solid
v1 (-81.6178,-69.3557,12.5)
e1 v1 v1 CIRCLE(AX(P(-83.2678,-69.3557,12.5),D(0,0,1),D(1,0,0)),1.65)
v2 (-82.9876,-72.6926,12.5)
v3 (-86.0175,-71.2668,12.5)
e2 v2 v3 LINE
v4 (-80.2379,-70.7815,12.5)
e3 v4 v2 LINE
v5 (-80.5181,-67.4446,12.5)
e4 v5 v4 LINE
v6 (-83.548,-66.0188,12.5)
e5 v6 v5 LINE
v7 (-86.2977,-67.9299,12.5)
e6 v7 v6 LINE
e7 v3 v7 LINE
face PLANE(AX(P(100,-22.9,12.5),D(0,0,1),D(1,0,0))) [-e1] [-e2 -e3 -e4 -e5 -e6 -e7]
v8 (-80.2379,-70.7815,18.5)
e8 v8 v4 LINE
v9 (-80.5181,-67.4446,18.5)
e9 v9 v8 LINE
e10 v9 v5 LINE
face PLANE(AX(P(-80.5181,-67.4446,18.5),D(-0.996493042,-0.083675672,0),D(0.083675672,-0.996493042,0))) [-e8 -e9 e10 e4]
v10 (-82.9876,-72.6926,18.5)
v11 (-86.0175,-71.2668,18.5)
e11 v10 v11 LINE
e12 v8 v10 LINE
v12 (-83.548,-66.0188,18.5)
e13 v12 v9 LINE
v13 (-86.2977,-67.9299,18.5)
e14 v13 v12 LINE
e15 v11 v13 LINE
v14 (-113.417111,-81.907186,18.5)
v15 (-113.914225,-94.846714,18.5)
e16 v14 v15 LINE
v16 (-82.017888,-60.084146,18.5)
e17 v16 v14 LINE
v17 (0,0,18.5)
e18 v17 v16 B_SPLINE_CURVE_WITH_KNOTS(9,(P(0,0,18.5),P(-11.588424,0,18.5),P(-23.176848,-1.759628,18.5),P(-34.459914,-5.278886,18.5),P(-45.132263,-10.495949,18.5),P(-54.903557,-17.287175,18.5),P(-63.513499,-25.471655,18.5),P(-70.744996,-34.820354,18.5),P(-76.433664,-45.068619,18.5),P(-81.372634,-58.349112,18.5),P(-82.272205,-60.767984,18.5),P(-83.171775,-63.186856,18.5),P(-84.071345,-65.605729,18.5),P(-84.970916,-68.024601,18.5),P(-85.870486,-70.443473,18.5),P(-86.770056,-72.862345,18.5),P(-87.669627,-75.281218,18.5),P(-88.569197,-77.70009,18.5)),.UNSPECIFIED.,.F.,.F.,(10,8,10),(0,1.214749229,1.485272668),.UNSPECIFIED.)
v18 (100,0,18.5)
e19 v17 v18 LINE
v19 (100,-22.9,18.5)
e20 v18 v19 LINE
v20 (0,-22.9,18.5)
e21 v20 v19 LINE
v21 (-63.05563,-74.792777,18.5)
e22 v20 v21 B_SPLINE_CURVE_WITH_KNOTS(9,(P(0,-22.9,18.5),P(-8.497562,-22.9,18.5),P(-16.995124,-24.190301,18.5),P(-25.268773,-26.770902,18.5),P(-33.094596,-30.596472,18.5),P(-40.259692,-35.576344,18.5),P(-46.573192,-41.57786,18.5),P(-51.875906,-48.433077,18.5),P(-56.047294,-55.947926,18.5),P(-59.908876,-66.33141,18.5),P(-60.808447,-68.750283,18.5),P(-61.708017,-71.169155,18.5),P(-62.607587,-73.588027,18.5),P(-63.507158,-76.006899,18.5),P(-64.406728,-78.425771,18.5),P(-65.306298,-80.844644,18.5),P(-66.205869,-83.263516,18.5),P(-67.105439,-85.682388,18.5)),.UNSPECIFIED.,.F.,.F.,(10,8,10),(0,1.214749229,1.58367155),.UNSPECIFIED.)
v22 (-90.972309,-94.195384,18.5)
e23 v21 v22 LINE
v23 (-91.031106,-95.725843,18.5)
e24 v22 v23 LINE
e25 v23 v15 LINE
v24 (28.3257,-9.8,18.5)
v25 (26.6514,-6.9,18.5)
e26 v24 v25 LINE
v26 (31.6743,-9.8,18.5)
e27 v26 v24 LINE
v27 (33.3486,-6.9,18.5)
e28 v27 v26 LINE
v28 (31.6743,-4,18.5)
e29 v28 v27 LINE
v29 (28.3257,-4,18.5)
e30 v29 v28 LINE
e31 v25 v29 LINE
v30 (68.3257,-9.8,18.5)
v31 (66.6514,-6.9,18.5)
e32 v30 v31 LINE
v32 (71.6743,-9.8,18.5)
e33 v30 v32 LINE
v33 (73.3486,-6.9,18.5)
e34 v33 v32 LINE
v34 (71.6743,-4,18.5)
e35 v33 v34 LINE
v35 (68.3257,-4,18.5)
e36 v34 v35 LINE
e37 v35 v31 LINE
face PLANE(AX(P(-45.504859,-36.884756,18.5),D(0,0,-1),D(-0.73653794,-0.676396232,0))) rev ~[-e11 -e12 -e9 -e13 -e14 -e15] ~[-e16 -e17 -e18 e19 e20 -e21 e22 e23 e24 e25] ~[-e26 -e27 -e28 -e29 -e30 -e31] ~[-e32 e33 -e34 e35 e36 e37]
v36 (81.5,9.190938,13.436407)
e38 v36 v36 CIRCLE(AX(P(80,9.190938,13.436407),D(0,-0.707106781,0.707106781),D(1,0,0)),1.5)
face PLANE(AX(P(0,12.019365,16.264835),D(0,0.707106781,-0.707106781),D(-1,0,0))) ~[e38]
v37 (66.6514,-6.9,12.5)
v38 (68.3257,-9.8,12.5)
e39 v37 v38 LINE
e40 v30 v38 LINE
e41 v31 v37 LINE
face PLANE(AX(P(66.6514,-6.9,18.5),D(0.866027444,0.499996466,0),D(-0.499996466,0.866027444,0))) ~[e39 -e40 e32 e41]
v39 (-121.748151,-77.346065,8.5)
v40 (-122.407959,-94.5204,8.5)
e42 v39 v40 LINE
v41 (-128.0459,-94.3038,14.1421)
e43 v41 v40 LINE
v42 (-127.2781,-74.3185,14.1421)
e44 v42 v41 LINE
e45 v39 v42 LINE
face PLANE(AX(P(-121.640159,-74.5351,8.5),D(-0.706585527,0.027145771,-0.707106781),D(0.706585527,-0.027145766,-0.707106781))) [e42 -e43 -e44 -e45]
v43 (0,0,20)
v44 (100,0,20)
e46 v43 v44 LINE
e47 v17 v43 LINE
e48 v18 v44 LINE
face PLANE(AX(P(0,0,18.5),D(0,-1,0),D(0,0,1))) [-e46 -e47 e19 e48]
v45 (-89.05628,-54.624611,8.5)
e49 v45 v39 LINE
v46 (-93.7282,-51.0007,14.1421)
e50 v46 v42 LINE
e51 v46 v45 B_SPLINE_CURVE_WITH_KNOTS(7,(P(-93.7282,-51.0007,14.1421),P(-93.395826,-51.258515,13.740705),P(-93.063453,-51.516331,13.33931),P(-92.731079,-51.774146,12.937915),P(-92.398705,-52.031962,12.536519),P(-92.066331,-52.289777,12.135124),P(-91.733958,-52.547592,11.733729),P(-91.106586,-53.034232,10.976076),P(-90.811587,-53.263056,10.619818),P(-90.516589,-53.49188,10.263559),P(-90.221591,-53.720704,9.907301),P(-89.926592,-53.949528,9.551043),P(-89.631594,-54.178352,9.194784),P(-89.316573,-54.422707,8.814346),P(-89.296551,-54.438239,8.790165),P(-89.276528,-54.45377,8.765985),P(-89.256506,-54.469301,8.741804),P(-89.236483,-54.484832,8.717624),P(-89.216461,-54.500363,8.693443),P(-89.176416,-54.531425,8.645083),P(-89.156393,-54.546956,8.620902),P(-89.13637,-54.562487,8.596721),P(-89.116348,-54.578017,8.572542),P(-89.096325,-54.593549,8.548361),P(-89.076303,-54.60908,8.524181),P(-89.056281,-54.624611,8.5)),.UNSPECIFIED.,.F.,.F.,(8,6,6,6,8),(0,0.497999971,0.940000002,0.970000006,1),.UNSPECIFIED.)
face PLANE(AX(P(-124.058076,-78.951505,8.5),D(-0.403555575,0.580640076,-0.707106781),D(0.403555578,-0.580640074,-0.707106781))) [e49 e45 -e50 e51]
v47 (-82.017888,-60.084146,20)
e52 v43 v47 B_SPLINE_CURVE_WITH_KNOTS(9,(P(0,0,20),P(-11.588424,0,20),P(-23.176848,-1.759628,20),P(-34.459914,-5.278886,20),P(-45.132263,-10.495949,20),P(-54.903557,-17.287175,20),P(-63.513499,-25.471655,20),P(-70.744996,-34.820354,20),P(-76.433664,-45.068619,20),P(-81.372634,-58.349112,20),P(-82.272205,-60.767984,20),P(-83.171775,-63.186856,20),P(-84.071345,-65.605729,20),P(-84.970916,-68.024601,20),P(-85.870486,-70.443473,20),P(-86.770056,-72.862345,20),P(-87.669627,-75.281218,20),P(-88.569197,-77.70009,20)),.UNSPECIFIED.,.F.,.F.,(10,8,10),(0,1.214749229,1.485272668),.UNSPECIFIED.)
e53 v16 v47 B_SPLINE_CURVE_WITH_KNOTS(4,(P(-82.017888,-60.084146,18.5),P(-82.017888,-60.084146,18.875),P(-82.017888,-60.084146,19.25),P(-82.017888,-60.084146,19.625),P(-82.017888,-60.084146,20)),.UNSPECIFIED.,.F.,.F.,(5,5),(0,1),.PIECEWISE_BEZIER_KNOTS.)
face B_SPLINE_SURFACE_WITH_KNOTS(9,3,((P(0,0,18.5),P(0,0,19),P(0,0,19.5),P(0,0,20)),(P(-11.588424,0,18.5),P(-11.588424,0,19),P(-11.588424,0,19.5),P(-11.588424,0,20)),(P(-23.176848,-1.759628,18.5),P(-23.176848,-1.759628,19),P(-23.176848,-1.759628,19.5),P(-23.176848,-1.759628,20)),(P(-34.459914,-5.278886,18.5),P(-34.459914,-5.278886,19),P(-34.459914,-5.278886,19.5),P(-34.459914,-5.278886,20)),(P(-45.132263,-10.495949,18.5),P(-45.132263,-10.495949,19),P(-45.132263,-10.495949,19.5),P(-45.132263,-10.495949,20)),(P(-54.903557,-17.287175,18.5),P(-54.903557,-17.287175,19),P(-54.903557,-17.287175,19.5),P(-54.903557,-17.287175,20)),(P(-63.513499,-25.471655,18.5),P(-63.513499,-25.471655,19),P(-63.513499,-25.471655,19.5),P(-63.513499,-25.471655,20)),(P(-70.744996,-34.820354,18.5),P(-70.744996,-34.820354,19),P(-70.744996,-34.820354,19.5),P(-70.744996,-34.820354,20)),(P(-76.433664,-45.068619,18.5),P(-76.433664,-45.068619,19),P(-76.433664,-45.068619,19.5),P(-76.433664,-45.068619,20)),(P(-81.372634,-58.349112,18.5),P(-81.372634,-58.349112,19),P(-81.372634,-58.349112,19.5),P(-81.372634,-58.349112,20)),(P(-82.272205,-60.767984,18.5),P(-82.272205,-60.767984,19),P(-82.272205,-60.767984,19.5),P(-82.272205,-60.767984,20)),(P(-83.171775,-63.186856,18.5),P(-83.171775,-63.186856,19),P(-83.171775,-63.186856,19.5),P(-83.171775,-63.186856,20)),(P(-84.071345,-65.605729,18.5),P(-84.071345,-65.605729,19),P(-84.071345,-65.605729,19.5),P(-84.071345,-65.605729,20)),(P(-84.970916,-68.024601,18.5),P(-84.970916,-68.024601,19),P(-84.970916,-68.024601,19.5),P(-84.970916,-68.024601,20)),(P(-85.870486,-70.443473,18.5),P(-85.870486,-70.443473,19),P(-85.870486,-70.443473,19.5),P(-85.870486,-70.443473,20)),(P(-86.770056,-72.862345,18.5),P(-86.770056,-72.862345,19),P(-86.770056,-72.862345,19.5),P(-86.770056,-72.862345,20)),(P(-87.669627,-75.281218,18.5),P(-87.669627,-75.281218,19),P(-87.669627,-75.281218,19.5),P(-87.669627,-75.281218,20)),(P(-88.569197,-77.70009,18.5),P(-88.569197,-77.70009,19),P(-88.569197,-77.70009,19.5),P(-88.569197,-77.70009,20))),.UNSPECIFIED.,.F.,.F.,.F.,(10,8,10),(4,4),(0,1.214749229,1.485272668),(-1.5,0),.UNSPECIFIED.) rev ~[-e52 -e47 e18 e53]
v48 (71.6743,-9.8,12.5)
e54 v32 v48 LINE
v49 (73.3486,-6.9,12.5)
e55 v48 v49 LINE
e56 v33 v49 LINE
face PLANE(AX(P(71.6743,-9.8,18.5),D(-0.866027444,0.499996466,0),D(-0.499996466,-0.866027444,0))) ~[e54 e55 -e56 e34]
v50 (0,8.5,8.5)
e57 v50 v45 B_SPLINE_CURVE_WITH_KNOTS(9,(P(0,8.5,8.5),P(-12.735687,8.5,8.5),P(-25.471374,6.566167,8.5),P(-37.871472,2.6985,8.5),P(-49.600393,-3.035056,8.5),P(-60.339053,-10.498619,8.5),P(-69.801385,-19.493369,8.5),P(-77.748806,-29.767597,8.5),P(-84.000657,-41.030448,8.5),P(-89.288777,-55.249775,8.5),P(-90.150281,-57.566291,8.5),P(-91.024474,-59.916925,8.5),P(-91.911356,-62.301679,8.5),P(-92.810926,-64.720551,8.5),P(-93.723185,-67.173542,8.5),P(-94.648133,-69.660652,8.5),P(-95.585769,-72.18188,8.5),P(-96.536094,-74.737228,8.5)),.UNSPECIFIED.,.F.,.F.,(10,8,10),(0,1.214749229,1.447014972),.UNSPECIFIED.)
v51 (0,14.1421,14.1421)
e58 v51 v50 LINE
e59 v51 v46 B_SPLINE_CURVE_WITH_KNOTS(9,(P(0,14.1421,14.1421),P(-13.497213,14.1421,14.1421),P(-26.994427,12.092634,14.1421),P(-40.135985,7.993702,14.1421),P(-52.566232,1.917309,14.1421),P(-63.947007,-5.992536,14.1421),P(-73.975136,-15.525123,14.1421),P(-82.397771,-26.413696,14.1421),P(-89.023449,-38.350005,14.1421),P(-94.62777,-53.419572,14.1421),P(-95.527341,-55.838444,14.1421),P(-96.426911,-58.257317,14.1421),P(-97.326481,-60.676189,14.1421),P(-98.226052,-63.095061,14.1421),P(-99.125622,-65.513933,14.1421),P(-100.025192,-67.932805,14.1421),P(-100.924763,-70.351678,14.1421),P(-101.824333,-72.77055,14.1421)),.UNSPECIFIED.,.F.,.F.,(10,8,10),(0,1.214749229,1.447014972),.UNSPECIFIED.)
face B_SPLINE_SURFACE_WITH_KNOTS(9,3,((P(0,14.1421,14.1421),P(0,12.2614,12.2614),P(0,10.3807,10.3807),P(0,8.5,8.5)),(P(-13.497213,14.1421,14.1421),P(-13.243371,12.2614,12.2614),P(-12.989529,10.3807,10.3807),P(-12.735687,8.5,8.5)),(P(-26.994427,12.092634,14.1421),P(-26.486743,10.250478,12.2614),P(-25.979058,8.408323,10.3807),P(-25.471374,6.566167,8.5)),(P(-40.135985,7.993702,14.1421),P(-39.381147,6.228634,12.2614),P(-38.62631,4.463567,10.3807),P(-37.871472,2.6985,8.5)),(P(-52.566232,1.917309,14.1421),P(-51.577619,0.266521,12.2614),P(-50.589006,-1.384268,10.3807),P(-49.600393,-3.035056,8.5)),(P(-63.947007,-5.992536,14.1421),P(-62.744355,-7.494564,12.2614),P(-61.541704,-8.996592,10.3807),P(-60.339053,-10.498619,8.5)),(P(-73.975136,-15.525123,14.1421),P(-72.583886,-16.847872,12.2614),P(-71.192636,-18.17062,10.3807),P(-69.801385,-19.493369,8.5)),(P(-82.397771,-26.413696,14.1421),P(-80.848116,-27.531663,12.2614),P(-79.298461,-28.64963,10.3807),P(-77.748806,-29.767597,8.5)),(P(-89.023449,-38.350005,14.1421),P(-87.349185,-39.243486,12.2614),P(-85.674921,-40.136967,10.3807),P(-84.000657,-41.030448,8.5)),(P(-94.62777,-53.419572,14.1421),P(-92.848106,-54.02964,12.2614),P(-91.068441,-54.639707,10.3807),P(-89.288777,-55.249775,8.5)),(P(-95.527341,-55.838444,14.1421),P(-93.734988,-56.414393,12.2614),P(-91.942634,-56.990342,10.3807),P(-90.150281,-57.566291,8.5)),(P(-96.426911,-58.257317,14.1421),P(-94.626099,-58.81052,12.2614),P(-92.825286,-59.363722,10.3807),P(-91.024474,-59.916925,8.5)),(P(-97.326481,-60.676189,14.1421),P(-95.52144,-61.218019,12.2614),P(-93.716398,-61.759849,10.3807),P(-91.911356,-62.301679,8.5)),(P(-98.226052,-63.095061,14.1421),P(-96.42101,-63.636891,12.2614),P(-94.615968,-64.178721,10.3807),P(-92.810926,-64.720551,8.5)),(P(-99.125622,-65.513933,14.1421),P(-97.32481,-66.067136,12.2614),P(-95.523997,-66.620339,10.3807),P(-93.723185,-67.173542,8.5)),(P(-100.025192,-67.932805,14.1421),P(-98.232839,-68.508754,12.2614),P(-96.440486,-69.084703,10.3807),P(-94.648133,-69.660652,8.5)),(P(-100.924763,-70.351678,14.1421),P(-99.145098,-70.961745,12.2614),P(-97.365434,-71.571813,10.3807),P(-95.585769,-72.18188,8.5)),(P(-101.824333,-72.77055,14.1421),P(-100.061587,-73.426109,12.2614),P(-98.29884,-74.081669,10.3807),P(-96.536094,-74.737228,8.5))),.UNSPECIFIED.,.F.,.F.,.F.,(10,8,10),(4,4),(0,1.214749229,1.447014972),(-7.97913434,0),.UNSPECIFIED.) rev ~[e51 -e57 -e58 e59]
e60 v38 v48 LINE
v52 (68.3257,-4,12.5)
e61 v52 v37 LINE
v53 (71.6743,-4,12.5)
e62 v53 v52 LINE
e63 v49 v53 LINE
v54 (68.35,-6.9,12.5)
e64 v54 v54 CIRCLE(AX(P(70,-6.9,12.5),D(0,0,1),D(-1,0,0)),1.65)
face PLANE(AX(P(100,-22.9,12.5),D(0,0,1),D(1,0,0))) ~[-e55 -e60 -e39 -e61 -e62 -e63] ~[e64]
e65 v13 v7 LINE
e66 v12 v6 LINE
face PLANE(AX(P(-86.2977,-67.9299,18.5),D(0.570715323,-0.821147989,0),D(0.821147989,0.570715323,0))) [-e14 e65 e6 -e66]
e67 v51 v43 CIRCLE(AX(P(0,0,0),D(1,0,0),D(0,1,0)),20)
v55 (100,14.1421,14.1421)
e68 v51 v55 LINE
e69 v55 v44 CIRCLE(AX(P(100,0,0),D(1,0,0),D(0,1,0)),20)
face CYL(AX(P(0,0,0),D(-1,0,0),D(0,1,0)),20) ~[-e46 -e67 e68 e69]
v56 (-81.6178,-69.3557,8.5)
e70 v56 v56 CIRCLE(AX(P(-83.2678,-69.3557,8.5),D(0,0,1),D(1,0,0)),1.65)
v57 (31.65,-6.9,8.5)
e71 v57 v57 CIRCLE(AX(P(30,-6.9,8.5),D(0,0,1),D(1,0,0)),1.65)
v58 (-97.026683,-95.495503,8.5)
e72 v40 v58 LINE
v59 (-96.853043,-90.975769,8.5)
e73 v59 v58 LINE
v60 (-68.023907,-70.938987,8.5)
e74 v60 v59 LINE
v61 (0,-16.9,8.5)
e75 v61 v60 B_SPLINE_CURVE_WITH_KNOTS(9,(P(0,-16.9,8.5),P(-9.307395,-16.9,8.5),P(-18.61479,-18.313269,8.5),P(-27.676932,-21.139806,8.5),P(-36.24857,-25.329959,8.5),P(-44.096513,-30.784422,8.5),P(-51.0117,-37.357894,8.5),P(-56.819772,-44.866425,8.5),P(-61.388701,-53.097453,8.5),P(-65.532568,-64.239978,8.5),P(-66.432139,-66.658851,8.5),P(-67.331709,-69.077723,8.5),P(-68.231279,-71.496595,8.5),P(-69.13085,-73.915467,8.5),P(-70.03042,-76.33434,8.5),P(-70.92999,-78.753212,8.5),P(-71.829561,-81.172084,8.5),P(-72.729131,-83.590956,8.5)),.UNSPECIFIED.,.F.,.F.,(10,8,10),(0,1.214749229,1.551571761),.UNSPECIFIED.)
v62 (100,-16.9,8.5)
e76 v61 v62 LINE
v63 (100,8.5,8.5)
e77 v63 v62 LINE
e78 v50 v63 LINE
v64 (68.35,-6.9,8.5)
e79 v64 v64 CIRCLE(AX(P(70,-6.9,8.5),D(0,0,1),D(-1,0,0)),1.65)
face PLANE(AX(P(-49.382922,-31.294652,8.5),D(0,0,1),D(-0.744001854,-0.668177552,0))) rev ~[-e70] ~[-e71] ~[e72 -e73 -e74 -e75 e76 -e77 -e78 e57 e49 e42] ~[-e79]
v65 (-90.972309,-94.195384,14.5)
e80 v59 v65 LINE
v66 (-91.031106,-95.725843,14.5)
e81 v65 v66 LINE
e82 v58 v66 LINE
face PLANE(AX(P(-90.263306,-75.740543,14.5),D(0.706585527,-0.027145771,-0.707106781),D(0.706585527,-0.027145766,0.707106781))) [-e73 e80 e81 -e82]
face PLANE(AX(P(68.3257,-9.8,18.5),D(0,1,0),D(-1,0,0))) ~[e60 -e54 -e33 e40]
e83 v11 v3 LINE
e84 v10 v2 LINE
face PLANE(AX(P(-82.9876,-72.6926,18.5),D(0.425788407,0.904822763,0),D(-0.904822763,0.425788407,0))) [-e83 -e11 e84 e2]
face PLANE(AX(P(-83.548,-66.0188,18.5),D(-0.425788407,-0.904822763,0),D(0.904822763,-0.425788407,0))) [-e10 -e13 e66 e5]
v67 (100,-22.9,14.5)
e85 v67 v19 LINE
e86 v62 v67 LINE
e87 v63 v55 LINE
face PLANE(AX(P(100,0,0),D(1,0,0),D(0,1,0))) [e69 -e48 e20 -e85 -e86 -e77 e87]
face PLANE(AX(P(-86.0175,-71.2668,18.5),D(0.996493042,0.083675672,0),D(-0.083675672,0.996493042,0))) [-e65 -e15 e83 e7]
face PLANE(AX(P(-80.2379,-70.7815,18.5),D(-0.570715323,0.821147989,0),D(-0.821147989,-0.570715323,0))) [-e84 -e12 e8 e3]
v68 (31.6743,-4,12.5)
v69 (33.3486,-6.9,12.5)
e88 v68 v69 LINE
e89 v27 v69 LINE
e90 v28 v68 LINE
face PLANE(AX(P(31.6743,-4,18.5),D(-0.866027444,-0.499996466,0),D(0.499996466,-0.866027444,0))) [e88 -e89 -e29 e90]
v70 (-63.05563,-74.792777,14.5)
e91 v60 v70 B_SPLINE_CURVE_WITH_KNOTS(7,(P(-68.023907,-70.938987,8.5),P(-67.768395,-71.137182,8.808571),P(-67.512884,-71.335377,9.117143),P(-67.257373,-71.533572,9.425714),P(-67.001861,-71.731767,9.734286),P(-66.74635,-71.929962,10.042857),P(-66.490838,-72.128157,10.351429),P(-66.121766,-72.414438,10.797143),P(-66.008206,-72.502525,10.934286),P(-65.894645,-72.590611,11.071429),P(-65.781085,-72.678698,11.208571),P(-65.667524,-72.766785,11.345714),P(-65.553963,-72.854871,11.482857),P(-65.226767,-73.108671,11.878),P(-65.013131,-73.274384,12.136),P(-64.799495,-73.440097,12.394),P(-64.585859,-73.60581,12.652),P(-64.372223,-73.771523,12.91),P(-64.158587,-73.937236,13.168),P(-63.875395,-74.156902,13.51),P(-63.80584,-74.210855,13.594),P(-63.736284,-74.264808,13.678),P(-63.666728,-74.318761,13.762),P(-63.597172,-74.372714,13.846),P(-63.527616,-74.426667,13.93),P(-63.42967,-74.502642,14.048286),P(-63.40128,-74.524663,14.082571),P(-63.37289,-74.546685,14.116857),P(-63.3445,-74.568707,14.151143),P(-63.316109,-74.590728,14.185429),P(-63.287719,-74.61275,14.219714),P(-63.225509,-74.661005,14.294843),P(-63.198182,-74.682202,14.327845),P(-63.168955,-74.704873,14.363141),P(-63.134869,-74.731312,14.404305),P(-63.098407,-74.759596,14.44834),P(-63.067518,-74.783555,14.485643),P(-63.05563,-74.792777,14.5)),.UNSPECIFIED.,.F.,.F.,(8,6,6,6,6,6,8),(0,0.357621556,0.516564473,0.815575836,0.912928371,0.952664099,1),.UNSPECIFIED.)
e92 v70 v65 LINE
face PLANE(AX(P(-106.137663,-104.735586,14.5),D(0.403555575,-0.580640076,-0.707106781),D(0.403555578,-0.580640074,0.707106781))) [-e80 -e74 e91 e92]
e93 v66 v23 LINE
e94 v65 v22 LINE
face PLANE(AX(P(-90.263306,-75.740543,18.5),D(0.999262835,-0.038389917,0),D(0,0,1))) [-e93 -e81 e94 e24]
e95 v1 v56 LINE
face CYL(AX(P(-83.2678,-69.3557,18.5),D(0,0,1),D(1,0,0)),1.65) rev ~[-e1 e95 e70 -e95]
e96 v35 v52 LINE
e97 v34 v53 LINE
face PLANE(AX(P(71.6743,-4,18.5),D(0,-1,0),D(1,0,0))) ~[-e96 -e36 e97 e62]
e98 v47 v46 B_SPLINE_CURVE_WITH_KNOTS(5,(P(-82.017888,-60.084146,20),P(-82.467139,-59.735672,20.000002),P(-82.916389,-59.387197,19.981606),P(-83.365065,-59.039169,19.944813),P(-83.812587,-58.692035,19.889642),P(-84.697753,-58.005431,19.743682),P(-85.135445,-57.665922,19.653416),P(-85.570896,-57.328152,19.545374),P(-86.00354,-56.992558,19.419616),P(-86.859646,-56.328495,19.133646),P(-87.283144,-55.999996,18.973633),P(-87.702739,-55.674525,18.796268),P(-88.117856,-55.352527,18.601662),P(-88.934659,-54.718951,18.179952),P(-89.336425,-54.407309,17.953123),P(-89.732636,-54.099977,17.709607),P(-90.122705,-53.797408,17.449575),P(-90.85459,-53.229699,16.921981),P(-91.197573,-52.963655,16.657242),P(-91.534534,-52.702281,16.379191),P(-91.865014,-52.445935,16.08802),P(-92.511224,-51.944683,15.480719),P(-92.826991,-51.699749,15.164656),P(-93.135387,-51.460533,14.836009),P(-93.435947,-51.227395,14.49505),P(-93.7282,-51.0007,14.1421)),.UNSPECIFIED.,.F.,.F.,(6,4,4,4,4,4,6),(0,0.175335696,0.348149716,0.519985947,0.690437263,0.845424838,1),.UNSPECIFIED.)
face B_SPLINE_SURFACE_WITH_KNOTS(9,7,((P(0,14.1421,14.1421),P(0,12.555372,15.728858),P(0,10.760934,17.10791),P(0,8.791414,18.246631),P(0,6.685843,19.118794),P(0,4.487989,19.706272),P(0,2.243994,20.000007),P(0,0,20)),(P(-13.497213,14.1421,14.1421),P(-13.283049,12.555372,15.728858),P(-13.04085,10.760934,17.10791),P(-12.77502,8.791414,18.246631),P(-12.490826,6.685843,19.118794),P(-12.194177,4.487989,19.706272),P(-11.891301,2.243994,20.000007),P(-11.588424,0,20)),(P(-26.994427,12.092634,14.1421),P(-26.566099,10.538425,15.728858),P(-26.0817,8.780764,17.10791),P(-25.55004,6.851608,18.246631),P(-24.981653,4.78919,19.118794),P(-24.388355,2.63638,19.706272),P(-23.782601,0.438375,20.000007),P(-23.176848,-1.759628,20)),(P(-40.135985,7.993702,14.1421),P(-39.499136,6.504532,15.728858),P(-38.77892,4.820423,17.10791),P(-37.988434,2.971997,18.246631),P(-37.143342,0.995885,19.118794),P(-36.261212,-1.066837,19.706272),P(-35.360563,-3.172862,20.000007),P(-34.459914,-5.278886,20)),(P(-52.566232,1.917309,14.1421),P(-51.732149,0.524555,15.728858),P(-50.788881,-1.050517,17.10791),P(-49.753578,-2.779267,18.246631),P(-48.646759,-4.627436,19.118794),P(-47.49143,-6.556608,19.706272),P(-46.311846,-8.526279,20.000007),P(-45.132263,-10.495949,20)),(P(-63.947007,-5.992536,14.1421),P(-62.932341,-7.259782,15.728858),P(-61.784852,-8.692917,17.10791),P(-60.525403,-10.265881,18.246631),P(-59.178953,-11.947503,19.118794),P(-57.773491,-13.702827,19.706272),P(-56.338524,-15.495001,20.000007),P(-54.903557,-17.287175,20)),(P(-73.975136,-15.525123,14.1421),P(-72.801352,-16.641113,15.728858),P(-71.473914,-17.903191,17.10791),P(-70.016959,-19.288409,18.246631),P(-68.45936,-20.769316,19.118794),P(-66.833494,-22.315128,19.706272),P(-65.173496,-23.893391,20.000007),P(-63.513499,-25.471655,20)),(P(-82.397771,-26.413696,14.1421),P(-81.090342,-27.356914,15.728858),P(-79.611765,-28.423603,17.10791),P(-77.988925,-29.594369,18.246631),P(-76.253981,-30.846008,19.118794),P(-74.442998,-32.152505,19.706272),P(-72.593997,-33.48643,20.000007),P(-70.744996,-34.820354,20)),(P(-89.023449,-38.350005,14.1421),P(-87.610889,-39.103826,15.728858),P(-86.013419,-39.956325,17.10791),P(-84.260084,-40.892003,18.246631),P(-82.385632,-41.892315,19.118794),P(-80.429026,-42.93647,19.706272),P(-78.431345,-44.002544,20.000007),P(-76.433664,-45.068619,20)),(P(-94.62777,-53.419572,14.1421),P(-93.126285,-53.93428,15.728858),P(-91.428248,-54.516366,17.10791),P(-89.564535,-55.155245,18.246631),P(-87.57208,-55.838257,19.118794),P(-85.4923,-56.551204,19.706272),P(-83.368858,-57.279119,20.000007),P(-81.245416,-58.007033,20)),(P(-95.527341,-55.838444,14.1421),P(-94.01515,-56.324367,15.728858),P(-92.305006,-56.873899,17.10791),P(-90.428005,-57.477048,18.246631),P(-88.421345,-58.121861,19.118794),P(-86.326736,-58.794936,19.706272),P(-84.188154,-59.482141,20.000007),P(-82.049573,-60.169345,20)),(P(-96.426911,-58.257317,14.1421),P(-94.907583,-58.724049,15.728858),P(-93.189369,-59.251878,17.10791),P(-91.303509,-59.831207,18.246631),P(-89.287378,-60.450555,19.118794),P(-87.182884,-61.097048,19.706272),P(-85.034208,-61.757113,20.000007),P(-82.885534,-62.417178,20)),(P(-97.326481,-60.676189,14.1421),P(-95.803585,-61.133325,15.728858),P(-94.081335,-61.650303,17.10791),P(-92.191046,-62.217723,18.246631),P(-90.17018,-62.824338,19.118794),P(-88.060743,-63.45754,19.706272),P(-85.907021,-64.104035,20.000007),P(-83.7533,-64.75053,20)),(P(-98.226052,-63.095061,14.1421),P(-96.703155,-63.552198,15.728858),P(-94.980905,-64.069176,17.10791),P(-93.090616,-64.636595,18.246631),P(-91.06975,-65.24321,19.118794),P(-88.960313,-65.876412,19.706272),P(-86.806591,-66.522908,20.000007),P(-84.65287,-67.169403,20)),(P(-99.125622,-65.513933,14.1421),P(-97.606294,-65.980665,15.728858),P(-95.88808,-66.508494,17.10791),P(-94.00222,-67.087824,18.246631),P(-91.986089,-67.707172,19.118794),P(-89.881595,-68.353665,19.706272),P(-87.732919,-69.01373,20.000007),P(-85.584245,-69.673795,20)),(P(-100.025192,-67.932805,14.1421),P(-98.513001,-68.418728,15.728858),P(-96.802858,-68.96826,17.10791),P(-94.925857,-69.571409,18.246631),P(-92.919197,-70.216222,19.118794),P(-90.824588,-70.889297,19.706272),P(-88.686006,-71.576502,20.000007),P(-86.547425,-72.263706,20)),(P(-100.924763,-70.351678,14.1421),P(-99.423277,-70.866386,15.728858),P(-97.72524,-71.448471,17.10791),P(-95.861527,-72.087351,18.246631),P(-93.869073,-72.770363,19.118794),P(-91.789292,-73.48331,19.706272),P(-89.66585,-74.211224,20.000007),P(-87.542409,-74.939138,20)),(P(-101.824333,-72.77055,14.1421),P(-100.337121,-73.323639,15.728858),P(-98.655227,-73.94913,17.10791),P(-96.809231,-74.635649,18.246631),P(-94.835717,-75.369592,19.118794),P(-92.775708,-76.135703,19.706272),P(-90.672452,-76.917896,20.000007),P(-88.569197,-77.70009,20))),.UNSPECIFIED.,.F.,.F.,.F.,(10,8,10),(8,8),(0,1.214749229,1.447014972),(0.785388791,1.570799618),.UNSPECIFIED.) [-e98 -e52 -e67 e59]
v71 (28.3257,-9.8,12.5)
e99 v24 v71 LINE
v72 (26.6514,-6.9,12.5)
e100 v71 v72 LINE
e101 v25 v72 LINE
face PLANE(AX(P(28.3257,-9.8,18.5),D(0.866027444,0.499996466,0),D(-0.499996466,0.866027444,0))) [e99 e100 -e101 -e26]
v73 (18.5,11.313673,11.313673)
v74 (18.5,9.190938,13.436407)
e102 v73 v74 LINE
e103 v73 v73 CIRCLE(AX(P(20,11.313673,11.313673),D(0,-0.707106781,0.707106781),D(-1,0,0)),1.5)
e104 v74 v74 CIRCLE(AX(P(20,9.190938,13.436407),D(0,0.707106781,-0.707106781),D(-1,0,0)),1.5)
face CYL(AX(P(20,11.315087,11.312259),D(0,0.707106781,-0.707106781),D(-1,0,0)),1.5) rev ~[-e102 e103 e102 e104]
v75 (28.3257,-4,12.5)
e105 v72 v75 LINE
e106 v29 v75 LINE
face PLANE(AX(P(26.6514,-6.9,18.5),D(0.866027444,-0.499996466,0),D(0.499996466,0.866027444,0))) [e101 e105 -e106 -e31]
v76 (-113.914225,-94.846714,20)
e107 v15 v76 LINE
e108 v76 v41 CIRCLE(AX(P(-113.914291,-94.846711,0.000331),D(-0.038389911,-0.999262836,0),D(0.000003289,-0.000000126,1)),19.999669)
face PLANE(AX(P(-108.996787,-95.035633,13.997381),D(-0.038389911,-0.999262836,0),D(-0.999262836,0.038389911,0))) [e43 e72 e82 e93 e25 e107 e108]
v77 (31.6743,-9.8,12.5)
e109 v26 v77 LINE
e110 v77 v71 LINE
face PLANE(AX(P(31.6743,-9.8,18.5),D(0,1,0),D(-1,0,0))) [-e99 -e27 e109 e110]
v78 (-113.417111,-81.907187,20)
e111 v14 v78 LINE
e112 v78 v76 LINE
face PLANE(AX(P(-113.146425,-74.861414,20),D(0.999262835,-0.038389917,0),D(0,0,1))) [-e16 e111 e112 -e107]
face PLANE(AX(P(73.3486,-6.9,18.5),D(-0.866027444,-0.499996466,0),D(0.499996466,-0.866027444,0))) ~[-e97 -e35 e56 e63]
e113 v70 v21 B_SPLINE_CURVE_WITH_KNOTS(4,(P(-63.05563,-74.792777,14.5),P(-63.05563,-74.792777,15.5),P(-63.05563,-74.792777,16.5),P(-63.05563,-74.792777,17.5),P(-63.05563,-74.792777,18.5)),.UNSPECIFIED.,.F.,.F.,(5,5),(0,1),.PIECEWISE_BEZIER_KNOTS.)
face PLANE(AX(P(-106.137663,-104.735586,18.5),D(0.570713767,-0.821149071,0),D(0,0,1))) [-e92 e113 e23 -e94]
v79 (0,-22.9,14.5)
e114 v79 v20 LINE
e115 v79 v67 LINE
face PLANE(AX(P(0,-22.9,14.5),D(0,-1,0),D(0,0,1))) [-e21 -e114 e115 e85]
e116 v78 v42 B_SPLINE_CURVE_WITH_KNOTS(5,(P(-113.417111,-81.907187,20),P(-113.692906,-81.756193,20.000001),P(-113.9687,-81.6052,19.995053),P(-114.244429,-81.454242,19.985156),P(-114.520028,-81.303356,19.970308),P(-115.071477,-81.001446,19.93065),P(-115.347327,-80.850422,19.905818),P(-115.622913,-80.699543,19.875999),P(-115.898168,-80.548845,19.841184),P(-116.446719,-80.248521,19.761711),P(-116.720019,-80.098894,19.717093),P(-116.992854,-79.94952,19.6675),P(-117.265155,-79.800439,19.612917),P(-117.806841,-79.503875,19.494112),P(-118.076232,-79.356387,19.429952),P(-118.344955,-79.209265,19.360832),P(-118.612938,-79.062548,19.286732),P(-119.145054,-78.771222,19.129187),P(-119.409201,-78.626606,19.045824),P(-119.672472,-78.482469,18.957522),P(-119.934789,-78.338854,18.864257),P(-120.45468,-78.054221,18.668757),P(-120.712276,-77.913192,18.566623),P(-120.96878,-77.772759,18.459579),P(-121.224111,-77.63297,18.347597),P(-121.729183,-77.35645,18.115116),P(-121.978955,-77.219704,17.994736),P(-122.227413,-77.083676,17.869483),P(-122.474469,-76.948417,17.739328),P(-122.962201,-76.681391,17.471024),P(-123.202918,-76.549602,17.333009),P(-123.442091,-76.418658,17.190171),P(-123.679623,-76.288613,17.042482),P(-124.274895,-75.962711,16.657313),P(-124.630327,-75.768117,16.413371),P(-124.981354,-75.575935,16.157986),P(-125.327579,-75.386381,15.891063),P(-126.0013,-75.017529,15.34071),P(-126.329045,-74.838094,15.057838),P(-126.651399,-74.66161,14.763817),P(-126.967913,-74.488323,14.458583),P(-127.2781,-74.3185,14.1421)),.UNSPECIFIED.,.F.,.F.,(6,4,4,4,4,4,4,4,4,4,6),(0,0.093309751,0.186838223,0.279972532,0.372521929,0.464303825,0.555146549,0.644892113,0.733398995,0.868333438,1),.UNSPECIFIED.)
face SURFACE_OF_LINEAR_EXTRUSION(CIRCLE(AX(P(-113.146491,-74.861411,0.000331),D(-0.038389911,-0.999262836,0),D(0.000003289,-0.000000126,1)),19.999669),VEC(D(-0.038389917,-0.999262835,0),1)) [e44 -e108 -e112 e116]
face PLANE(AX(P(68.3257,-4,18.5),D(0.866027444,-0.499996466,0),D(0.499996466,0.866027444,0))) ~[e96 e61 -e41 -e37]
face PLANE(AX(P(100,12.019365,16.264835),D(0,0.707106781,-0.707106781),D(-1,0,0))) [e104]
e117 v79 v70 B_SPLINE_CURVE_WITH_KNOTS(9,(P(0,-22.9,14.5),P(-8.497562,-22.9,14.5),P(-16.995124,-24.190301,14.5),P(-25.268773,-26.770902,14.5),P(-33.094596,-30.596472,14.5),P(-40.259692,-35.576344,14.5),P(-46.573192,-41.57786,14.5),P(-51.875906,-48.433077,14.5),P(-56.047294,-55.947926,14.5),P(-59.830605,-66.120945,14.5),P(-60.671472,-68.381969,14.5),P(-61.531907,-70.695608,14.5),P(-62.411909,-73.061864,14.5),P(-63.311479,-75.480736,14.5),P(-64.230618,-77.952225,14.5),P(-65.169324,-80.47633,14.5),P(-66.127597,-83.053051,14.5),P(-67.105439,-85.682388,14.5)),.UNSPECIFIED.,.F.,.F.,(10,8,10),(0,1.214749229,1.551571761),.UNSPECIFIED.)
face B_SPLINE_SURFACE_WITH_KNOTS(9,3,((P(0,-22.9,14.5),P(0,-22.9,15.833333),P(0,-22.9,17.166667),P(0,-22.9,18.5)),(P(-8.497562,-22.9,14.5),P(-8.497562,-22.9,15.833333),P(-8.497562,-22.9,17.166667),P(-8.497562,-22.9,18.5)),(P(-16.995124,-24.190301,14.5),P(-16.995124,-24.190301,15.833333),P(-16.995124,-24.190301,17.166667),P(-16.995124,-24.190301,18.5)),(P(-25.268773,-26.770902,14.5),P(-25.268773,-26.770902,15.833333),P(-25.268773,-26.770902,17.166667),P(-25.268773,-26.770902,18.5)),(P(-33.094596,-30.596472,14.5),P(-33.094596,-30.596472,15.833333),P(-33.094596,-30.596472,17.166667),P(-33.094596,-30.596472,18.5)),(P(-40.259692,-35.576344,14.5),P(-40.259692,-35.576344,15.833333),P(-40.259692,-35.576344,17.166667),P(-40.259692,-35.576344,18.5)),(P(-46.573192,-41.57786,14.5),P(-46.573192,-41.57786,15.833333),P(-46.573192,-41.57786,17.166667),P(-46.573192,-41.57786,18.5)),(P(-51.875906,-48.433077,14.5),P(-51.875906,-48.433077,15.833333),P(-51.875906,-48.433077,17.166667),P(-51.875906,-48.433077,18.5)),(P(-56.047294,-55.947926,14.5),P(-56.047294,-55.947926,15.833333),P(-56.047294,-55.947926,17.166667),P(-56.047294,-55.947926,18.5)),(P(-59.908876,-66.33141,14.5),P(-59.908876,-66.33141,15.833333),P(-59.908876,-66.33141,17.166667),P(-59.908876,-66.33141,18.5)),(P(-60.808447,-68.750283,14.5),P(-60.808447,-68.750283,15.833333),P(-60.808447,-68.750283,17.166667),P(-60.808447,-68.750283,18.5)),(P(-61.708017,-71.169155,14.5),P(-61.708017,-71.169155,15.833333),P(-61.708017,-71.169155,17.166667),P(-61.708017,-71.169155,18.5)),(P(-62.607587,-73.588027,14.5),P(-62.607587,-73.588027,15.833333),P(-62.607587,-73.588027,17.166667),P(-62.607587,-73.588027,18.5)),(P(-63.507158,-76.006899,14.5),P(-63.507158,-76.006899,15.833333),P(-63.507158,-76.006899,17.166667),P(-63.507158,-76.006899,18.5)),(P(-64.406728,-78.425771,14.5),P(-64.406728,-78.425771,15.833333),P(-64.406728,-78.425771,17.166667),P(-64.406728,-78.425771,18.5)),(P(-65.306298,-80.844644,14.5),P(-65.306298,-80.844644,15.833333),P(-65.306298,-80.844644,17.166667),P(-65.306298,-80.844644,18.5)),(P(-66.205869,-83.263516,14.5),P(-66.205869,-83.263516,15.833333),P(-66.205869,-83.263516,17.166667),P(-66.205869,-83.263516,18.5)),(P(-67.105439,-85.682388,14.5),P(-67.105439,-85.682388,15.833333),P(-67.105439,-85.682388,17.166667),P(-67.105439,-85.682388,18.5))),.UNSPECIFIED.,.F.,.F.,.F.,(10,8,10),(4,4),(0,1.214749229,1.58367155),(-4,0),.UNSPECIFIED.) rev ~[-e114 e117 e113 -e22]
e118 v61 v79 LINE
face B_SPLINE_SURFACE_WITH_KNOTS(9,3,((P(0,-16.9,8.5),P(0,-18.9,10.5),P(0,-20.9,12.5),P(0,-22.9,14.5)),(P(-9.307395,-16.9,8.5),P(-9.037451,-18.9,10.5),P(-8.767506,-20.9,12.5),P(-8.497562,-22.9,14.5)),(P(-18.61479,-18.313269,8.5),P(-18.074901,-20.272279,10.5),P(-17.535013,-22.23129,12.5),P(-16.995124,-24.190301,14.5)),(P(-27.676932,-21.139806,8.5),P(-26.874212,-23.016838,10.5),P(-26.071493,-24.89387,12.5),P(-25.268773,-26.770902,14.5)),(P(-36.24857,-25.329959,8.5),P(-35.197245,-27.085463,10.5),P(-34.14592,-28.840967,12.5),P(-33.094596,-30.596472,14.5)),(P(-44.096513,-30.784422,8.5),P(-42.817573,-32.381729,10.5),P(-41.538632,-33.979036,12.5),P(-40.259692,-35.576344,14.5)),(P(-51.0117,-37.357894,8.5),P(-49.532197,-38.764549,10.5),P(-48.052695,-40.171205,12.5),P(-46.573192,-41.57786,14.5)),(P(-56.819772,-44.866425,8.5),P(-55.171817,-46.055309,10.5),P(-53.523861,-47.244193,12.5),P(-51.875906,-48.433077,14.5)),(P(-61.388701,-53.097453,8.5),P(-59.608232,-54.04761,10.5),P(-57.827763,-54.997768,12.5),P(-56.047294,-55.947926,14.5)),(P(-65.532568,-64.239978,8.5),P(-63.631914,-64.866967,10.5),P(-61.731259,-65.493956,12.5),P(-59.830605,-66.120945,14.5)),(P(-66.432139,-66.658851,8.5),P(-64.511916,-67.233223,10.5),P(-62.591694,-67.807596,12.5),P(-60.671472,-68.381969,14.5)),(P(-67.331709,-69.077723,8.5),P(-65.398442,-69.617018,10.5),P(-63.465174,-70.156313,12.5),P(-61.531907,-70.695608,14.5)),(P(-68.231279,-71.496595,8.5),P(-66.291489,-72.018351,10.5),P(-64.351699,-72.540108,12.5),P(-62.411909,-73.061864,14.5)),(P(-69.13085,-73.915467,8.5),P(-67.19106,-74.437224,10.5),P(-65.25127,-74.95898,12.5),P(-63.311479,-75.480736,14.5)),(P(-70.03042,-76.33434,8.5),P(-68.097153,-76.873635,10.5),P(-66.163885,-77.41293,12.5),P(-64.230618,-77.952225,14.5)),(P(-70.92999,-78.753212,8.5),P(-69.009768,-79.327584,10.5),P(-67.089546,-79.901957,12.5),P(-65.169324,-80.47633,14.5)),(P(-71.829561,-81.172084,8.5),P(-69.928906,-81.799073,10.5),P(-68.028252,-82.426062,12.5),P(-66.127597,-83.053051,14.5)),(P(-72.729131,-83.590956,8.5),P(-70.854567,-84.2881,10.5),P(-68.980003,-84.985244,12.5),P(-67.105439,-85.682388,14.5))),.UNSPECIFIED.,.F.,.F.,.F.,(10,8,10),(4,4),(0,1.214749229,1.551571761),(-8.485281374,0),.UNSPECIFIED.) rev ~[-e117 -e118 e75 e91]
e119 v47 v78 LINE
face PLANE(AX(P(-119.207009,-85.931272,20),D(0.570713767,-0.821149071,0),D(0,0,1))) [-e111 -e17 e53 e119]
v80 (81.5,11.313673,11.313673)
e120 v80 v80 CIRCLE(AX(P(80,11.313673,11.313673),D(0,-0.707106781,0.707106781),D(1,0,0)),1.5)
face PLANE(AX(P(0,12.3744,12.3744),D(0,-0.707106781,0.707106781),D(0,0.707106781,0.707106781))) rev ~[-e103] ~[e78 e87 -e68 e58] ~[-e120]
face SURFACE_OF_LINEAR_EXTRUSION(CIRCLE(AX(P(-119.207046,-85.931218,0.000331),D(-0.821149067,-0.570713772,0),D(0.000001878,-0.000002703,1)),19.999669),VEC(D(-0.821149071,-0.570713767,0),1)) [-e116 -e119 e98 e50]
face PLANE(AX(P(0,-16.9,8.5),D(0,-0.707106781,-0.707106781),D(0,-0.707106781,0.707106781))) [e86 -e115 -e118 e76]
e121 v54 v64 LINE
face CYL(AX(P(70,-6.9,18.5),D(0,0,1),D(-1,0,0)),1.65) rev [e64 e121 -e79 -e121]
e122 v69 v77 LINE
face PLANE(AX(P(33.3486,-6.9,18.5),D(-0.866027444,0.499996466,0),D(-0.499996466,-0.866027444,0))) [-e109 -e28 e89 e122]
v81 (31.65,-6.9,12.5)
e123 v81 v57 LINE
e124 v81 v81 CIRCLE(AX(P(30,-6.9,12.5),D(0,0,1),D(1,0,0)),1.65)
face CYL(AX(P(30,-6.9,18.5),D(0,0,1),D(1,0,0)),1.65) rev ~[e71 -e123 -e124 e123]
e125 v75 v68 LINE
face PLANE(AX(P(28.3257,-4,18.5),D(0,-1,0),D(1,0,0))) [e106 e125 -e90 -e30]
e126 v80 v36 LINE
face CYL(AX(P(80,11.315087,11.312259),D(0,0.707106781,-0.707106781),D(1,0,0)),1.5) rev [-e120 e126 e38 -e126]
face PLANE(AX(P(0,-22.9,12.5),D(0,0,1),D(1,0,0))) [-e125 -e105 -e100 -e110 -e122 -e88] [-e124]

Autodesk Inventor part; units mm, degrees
ref_plane "YZ Plane" through (0, 0, 0) normal (1, 0, 0) x (0, 1, 0)
sketch "Sketch1" plane through (0, 0, 0) normal (1, 0, 0) x (0, 1, 0)
  circle A0 centre (0, 0) radius 20
  line L0 (8.5, 8.5) -> (-16.9, 8.5)
  line L1 (8.5, 8.5) -> (8.5, -16.9)
  line L2 (0, 0) -> (0, 20)
  line L3 (0, 20) -> (-60.9241, 20)
  line L4 (-60.9241, 20) -> (-60.9241, 18.5)
  line L5 (-60.9241, 18.5) -> (0, 18.5)
  line L6 (0, 18.5) -> (0, 20)
  line L7 (0, 0) -> (14.1421, 14.1421)
  line L8 (0, 0) -> (20, 0)
  line L9 (-16.9, 8.5) -> (-16.9, 18.5)
  line L10 (-16.9, 8.5) -> (-22.9, 14.5)
  line L11 (-22.9, 14.5) -> (-22.9, 18.5)
  line L12 (12.3744, 12.3744) -> (12.1502, 13.2109)
  line L13 (11.3137, 13.435) -> (9.2071, 11.3284)
  line L14 (9.4313, 10.4919) -> (10.2678, 10.2678)
  line L15 (8.5, 8.5) -> (8.5, -16.9)
  line L16 (20, 0) -> (20, -60.9241)
  line L17 (20, -60.9241) -> (18.5, -60.9241)
  line L18 (18.5, -60.9241) -> (18.5, 0)
  line L19 (8.5, -16.9) -> (18.5, -16.9)
  line L20 (8.5, -16.9) -> (14.5, -22.9)
  line L21 (14.5, -22.9) -> (18.5, -22.9)
  arc A1 (9.2071, 11.3284) -> (9.4313, 10.4919) centre (9.5607, 10.9749) ccw
  arc A2 (12.1502, 13.2109) -> (11.3137, 13.435) centre (11.6673, 13.0815) ccw
  line L22 (10.4311, 10.4311) -> (9.483, 10.6851)
  arc A3 (9.3485, 11.187) -> (9.483, 10.6851) centre (9.5607, 10.9749) ccw
  line L23 (9.3485, 11.187) -> (11.4551, 13.2936)
  arc A4 (11.957, 13.1591) -> (11.4551, 13.2936) centre (11.6673, 13.0815) ccw
  line L24 (11.957, 13.1591) -> (12.2111, 12.2111)
  point P0 (0, 8.5)
  point P1 (-17.7041, 9.3041)
  point P2 (-16.9, 10.6953)
  dimension "d0" = 40
  dimension "d1" = 25.4
  dimension "d2" = 1.5
  dimension "d4" = 45
  dimension "d6" = 45
  dimension "d7" = 4
  dimension "d8" = 10
  dimension "d10" = 2.5
  dimension "d11" = 2.5
  dimension "d12" = 60
  dimension "d13" = 1.5
  dimension "d15" = 0.5
  dimension "d16" = 0.2
extrude "Extrusion1" add sketch "Sketch1" along normal blind 100 contours L7 L12 A2 L13 A1 L14 L0 L2 A0 | L7 L24 A4 L23 A3 L22 L14 A1 L13 A2 L12 | L5 L2 L0 L9 A0 | A0 L9 L5 | L7 L22 A3 L23 A4 L24 | L9 L10 A0 | A0 L10 L11 L5 L9
sketch "Sketch2" plane through (0, -22.9, 18.5) normal (0, 0, 1) x (1, 0, 0)
  line L0 (0, 22.9) -> (0, 0) projected
  line L1 (0, 0) -> (100, 0) projected
  line L2 (100, 22.9) -> (100, 0) projected
  line L3 (0, 22.9) -> (100, 22.9) projected
  line L4 (28.3257, 13.1) -> (26.6514, 16)
  line L5 (26.6514, 16) -> (28.3257, 18.9)
  line L6 (28.3257, 18.9) -> (31.6743, 18.9)
  line L7 (31.6743, 18.9) -> (33.3486, 16)
  line L8 (33.3486, 16) -> (31.6743, 13.1)
  line L9 (31.6743, 13.1) -> (28.3257, 13.1)
  line L10 (0, 6) -> (100, 6) projected
  circle A0 centre (30, 16) radius 1.65
  dimension "d20" = 10
  dimension "d21" = 5.8
  dimension "d22" = 30
  dimension "d25" = 3.3
extrude "Extrusion2" cut sketch "Sketch2" against normal blind 6 contours L4 L5 L6 L7 L8 L9 | A0
extrude "Extrusion3" cut sketch "Sketch2" against normal through all contours A0
sketch "Sketch3" plane through (0, -22.9, 18.5) normal (0, 0, 1) x (1, 0, 0)
  line L0 (0, 37.0421) -> (100, 37.0421) projected
  line L1 (0, 0) -> (100, 0) projected
  line L2 (0, 22.9) -> (0, 0) projected
  line L3 (0, 22.9) -> (0, 37.0421) projected
  line L4 (2.4384, 37.0421) -> (17.8575, 0)
  line L5 (0, 0) -> (100, 0) projected
  line L6 (2.4384, 37.0421) -> (0, 42.9) projected
  point P0 (0, 26.9698)
  dimension "d28" = 112.6
sketch "Sketch4" plane through (100, 14.1421, 14.1421) normal (0, 0.7071, -0.7071) x (-1, 0, 0)
  line L0 (100, 0) -> (0, 0) projected
  line L1 (0, -7.9792) -> (0, 0) projected
  line L2 (100, -7.9792) -> (0, -7.9792) projected
  circle A0 centre (80, -4) radius 1.5
  line L3 (100, -7.9792) -> (100, 0) projected
  line L4 (50, -7.9792) -> (50, 0)
  ellipse E0 centre (70, -18.8686) end of major axis (68.35, -18.8686) minor radius 1.1667 projected
  point P0 (100, -20)
  dimension "d34" = 3
  dimension "d35" = 4
  dimension "d46" = 20
extrude "Extrusion5" cut sketch "Sketch4" against normal blind 3 contours A0
ref_plane "Work Plane1" through (50, 0, 0) normal (-1, 0, 0) x (0, 0, 1)
mirror "Mirror1" about plane through (50, 0, 0) normal (-1, 0, 0) of "Extrusion5", "Extrusion2", "Extrusion3"
ref_plane "Work Plane2" through (0, 14.1421, 14.1421) normal (0, 0, 1) x (1, 0, 0)
sketch "Sketch9" plane through (0, 14.1421, 14.1421) normal (0, 0, 1) x (1, 0, 0)
  line L0 (0, 0) -> (100, 0) projected
  line L1 (0, 0) -> (-127.2781, -88.4606) construction
  line L2 (0, -14.1421) -> (0, 0) projected
  arc A0 (0, 0) -> (-93.7282, -65.1428) centre (0, -100) ccw
  line L3 (-127.2781, -88.4606) -> (-93.7282, -65.1428)
  line L4 (-127.2781, -88.4606) -> (-128.0459, -108.4459)
  dimension "d61" = 155
  dimension "d62" = 145.2
  dimension "d63" = 100
  dimension "d66" = 127
  dimension "d67" = 20
sketch "Sketch10" plane through (0, 0, 0) normal (-1, 0, 0) x (0, 0, 1)
  line L0 (14.5, -22.9) -> (8.5, -16.9) projected
  line L1 (18.5, -22.9) -> (14.5, -22.9) projected
  line L2 (18.5, 0) -> (18.5, -22.9) projected
  line L3 (20, 0) -> (18.5, 0) projected
  arc A0 (20, 0) -> (14.1421, 14.1421) centre (0, 0) ccw projected
  line L4 (8.5, 8.5) -> (14.1421, 14.1421) projected
  line L5 (8.5, -16.9) -> (8.5, 8.5) projected
sweep "Sweep2" add profiles "Sketch10" path "Sketch9" path curves A0 L3 L4
sketch "Sketch11" plane through (100, -22.9, 18.5) normal (0, 0, 1) x (1, 0, 0)
  line L0 (-33.3486, 16) -> (-31.6743, 18.9) projected
  line L1 (-31.6743, 18.9) -> (-28.3257, 18.9) projected
  line L2 (-28.3257, 18.9) -> (-26.6514, 16) projected
  line L3 (-26.6514, 16) -> (-28.3257, 13.1) projected
  line L4 (-28.3257, 13.1) -> (-31.6743, 13.1) projected
  line L5 (-31.6743, 13.1) -> (-33.3486, 16) projected
  line L6 (-68.3257, 18.9) -> (-66.6514, 16) projected
  line L7 (-66.6514, 16) -> (-68.3257, 13.1) projected
  line L8 (-68.3257, 13.1) -> (-71.6743, 13.1) projected
  line L9 (-71.6743, 13.1) -> (-73.3486, 16) projected
  line L10 (-73.3486, 16) -> (-71.6743, 18.9) projected
  line L11 (-71.6743, 18.9) -> (-68.3257, 18.9) projected
  line L12 (-100, 0) -> (0, 0) projected
  line L13 (-100, 22.9) -> (0, 22.9) projected
  arc A0 (-100, 22.9) -> (-180.473, -33.0302) centre (-100, -62.9579) ccw projected
  line L14 (-180.473, -33.0302) -> (-182.0179, -37.1841) projected
  line L15 (-182.0179, -37.1841) -> (-213.4171, -59.0072) projected
  line L16 (-213.4171, -59.0072) -> (-213.9142, -71.9466) projected
  line L17 (-190.9723, -71.2953) -> (-191.0311, -72.8257) projected
  line L18 (-163.0556, -51.8928) -> (-190.9723, -71.2953) projected
  line L19 (-159.0093, -41.0125) -> (-163.0556, -51.8928) projected
  arc A1 (-100, 0) -> (-159.0093, -41.0125) centre (-100, -62.9579) ccw projected
  circle A2 centre (-30, 16) radius 1.65 projected
  circle A3 centre (-70, 16) radius 1.65 projected
  line L20 (-100, 31.4) -> (0, 31.4) projected
  line L21 (-100, 6) -> (0, 6) projected
  arc A4 (-100, 6) -> (-164.633, -38.9211) centre (-100, -62.9579) ccw projected
  line L22 (-164.633, -38.9211) -> (-168.0239, -48.039) projected
  line L23 (-168.0239, -48.039) -> (-196.853, -68.0757) projected
  line L24 (-196.853, -68.0757) -> (-197.0266, -72.5954) projected
  line L25 (-221.7481, -54.446) -> (-222.4079, -71.6203) projected
  line L26 (-189.0563, -31.7246) -> (-221.7481, -54.446) projected
  line L27 (-188.4399, -30.0674) -> (-189.0563, -31.7246) projected
  arc A5 (-100, 31.4) -> (-188.4399, -30.0674) centre (-100, -62.9579) ccw projected
  line L28 (-207.0193, -72.2115) -> (-206.6542, -62.7097)
  line L29 (-206.6542, -62.7097) -> (-176.3043, -41.616)
  line L30 (-176.3043, -41.616) -> (-174.0058, -35.4354)
  arc A6 (-100, 16) -> (-174.0058, -35.4354) centre (-100, -62.9579) ccw
  line L31 (-100, 16) -> (0, 16)
  line L32 (-186.0175, -48.3668) -> (-186.2977, -45.0299)
  line L33 (-186.2977, -45.0299) -> (-183.548, -43.1188)
  line L34 (-183.548, -43.1188) -> (-180.5181, -44.5446)
  line L35 (-180.5181, -44.5446) -> (-180.2379, -47.8815)
  line L36 (-180.2379, -47.8815) -> (-182.9876, -49.7926)
  line L37 (-182.9876, -49.7926) -> (-186.0175, -48.3668)
  circle A7 centre (-183.2678, -46.4557) radius 1.65
  point P0 (-181.6127, -48.8371)
  point P1 (-191.4793, -52.1629)
  dimension "d68" = 10
  dimension "d70" = 5.8
  dimension "d75" = 3.3
  dimension "d76" = 10
extrude "Extrusion7" cut sketch "Sketch11" against normal through all contours A7 L29 | L29 A7
extrude "Extrusion8" cut sketch "Sketch11" against normal blind 6 contours L35 L36 L37 L29 A7 | L29 A7 L32 L33 L34 | A7 L29 | L29 A7
sketch "Sketch12" plane through (100, -22.9, 18.5) normal (0, 0, 1) x (1, 0, 0)
  line L0 (-186.0175, -48.3668) -> (-186.2977, -45.0299) projected
  line L1 (-186.2977, -45.0299) -> (-183.548, -43.1188) projected
  line L2 (-183.548, -43.1188) -> (-180.5181, -44.5446) projected
  line L3 (-180.5181, -44.5446) -> (-180.2379, -47.8815) projected
  line L4 (-180.2379, -47.8815) -> (-182.9876, -49.7926) projected
  line L5 (-182.9876, -49.7926) -> (-186.0175, -48.3668) projected
  line L6 (-33.3486, 16) -> (-31.6743, 18.9) projected
  line L7 (-31.6743, 18.9) -> (-28.3257, 18.9) projected
  line L8 (-28.3257, 18.9) -> (-26.6514, 16) projected
  line L9 (-26.6514, 16) -> (-28.3257, 13.1) projected
  line L10 (-28.3257, 13.1) -> (-31.6743, 13.1) projected
  line L11 (-31.6743, 13.1) -> (-33.3486, 16) projected
  line L12 (-68.3257, 18.9) -> (-66.6514, 16) projected
  line L13 (-66.6514, 16) -> (-68.3257, 13.1) projected
  line L14 (-68.3257, 13.1) -> (-71.6743, 13.1) projected
  line L15 (-71.6743, 13.1) -> (-73.3486, 16) projected
  line L16 (-73.3486, 16) -> (-71.6743, 18.9) projected
  line L17 (-71.6743, 18.9) -> (-68.3257, 18.9) projected
  line L18 (-100, 0) -> (0, 0) projected
  line L19 (0, 22.9) -> (0, 0) projected
  line L20 (-100, 22.9) -> (0, 22.9) projected
  arc A0 (-100, 22.9) -> (-180.473, -33.0302) centre (-100, -62.9579) ccw projected
  line L21 (-180.473, -33.0302) -> (-182.0179, -37.1841) projected
  line L22 (-182.0179, -37.1841) -> (-213.4171, -59.0072) projected
  line L23 (-213.4171, -59.0072) -> (-213.9142, -71.9466) projected
  line L24 (-191.0311, -72.8257) -> (-213.9142, -71.9466) projected
  line L25 (-190.9723, -71.2953) -> (-191.0311, -72.8257) projected
  line L26 (-163.0556, -51.8928) -> (-190.9723, -71.2953) projected
  line L27 (-159.0093, -41.0125) -> (-163.0556, -51.8928) projected
  arc A1 (-100, 0) -> (-159.0093, -41.0125) centre (-100, -62.9579) ccw projected
properties part number "ESQUINA_REDONDEADA_R20" material "Steel, Mild, Welded"
